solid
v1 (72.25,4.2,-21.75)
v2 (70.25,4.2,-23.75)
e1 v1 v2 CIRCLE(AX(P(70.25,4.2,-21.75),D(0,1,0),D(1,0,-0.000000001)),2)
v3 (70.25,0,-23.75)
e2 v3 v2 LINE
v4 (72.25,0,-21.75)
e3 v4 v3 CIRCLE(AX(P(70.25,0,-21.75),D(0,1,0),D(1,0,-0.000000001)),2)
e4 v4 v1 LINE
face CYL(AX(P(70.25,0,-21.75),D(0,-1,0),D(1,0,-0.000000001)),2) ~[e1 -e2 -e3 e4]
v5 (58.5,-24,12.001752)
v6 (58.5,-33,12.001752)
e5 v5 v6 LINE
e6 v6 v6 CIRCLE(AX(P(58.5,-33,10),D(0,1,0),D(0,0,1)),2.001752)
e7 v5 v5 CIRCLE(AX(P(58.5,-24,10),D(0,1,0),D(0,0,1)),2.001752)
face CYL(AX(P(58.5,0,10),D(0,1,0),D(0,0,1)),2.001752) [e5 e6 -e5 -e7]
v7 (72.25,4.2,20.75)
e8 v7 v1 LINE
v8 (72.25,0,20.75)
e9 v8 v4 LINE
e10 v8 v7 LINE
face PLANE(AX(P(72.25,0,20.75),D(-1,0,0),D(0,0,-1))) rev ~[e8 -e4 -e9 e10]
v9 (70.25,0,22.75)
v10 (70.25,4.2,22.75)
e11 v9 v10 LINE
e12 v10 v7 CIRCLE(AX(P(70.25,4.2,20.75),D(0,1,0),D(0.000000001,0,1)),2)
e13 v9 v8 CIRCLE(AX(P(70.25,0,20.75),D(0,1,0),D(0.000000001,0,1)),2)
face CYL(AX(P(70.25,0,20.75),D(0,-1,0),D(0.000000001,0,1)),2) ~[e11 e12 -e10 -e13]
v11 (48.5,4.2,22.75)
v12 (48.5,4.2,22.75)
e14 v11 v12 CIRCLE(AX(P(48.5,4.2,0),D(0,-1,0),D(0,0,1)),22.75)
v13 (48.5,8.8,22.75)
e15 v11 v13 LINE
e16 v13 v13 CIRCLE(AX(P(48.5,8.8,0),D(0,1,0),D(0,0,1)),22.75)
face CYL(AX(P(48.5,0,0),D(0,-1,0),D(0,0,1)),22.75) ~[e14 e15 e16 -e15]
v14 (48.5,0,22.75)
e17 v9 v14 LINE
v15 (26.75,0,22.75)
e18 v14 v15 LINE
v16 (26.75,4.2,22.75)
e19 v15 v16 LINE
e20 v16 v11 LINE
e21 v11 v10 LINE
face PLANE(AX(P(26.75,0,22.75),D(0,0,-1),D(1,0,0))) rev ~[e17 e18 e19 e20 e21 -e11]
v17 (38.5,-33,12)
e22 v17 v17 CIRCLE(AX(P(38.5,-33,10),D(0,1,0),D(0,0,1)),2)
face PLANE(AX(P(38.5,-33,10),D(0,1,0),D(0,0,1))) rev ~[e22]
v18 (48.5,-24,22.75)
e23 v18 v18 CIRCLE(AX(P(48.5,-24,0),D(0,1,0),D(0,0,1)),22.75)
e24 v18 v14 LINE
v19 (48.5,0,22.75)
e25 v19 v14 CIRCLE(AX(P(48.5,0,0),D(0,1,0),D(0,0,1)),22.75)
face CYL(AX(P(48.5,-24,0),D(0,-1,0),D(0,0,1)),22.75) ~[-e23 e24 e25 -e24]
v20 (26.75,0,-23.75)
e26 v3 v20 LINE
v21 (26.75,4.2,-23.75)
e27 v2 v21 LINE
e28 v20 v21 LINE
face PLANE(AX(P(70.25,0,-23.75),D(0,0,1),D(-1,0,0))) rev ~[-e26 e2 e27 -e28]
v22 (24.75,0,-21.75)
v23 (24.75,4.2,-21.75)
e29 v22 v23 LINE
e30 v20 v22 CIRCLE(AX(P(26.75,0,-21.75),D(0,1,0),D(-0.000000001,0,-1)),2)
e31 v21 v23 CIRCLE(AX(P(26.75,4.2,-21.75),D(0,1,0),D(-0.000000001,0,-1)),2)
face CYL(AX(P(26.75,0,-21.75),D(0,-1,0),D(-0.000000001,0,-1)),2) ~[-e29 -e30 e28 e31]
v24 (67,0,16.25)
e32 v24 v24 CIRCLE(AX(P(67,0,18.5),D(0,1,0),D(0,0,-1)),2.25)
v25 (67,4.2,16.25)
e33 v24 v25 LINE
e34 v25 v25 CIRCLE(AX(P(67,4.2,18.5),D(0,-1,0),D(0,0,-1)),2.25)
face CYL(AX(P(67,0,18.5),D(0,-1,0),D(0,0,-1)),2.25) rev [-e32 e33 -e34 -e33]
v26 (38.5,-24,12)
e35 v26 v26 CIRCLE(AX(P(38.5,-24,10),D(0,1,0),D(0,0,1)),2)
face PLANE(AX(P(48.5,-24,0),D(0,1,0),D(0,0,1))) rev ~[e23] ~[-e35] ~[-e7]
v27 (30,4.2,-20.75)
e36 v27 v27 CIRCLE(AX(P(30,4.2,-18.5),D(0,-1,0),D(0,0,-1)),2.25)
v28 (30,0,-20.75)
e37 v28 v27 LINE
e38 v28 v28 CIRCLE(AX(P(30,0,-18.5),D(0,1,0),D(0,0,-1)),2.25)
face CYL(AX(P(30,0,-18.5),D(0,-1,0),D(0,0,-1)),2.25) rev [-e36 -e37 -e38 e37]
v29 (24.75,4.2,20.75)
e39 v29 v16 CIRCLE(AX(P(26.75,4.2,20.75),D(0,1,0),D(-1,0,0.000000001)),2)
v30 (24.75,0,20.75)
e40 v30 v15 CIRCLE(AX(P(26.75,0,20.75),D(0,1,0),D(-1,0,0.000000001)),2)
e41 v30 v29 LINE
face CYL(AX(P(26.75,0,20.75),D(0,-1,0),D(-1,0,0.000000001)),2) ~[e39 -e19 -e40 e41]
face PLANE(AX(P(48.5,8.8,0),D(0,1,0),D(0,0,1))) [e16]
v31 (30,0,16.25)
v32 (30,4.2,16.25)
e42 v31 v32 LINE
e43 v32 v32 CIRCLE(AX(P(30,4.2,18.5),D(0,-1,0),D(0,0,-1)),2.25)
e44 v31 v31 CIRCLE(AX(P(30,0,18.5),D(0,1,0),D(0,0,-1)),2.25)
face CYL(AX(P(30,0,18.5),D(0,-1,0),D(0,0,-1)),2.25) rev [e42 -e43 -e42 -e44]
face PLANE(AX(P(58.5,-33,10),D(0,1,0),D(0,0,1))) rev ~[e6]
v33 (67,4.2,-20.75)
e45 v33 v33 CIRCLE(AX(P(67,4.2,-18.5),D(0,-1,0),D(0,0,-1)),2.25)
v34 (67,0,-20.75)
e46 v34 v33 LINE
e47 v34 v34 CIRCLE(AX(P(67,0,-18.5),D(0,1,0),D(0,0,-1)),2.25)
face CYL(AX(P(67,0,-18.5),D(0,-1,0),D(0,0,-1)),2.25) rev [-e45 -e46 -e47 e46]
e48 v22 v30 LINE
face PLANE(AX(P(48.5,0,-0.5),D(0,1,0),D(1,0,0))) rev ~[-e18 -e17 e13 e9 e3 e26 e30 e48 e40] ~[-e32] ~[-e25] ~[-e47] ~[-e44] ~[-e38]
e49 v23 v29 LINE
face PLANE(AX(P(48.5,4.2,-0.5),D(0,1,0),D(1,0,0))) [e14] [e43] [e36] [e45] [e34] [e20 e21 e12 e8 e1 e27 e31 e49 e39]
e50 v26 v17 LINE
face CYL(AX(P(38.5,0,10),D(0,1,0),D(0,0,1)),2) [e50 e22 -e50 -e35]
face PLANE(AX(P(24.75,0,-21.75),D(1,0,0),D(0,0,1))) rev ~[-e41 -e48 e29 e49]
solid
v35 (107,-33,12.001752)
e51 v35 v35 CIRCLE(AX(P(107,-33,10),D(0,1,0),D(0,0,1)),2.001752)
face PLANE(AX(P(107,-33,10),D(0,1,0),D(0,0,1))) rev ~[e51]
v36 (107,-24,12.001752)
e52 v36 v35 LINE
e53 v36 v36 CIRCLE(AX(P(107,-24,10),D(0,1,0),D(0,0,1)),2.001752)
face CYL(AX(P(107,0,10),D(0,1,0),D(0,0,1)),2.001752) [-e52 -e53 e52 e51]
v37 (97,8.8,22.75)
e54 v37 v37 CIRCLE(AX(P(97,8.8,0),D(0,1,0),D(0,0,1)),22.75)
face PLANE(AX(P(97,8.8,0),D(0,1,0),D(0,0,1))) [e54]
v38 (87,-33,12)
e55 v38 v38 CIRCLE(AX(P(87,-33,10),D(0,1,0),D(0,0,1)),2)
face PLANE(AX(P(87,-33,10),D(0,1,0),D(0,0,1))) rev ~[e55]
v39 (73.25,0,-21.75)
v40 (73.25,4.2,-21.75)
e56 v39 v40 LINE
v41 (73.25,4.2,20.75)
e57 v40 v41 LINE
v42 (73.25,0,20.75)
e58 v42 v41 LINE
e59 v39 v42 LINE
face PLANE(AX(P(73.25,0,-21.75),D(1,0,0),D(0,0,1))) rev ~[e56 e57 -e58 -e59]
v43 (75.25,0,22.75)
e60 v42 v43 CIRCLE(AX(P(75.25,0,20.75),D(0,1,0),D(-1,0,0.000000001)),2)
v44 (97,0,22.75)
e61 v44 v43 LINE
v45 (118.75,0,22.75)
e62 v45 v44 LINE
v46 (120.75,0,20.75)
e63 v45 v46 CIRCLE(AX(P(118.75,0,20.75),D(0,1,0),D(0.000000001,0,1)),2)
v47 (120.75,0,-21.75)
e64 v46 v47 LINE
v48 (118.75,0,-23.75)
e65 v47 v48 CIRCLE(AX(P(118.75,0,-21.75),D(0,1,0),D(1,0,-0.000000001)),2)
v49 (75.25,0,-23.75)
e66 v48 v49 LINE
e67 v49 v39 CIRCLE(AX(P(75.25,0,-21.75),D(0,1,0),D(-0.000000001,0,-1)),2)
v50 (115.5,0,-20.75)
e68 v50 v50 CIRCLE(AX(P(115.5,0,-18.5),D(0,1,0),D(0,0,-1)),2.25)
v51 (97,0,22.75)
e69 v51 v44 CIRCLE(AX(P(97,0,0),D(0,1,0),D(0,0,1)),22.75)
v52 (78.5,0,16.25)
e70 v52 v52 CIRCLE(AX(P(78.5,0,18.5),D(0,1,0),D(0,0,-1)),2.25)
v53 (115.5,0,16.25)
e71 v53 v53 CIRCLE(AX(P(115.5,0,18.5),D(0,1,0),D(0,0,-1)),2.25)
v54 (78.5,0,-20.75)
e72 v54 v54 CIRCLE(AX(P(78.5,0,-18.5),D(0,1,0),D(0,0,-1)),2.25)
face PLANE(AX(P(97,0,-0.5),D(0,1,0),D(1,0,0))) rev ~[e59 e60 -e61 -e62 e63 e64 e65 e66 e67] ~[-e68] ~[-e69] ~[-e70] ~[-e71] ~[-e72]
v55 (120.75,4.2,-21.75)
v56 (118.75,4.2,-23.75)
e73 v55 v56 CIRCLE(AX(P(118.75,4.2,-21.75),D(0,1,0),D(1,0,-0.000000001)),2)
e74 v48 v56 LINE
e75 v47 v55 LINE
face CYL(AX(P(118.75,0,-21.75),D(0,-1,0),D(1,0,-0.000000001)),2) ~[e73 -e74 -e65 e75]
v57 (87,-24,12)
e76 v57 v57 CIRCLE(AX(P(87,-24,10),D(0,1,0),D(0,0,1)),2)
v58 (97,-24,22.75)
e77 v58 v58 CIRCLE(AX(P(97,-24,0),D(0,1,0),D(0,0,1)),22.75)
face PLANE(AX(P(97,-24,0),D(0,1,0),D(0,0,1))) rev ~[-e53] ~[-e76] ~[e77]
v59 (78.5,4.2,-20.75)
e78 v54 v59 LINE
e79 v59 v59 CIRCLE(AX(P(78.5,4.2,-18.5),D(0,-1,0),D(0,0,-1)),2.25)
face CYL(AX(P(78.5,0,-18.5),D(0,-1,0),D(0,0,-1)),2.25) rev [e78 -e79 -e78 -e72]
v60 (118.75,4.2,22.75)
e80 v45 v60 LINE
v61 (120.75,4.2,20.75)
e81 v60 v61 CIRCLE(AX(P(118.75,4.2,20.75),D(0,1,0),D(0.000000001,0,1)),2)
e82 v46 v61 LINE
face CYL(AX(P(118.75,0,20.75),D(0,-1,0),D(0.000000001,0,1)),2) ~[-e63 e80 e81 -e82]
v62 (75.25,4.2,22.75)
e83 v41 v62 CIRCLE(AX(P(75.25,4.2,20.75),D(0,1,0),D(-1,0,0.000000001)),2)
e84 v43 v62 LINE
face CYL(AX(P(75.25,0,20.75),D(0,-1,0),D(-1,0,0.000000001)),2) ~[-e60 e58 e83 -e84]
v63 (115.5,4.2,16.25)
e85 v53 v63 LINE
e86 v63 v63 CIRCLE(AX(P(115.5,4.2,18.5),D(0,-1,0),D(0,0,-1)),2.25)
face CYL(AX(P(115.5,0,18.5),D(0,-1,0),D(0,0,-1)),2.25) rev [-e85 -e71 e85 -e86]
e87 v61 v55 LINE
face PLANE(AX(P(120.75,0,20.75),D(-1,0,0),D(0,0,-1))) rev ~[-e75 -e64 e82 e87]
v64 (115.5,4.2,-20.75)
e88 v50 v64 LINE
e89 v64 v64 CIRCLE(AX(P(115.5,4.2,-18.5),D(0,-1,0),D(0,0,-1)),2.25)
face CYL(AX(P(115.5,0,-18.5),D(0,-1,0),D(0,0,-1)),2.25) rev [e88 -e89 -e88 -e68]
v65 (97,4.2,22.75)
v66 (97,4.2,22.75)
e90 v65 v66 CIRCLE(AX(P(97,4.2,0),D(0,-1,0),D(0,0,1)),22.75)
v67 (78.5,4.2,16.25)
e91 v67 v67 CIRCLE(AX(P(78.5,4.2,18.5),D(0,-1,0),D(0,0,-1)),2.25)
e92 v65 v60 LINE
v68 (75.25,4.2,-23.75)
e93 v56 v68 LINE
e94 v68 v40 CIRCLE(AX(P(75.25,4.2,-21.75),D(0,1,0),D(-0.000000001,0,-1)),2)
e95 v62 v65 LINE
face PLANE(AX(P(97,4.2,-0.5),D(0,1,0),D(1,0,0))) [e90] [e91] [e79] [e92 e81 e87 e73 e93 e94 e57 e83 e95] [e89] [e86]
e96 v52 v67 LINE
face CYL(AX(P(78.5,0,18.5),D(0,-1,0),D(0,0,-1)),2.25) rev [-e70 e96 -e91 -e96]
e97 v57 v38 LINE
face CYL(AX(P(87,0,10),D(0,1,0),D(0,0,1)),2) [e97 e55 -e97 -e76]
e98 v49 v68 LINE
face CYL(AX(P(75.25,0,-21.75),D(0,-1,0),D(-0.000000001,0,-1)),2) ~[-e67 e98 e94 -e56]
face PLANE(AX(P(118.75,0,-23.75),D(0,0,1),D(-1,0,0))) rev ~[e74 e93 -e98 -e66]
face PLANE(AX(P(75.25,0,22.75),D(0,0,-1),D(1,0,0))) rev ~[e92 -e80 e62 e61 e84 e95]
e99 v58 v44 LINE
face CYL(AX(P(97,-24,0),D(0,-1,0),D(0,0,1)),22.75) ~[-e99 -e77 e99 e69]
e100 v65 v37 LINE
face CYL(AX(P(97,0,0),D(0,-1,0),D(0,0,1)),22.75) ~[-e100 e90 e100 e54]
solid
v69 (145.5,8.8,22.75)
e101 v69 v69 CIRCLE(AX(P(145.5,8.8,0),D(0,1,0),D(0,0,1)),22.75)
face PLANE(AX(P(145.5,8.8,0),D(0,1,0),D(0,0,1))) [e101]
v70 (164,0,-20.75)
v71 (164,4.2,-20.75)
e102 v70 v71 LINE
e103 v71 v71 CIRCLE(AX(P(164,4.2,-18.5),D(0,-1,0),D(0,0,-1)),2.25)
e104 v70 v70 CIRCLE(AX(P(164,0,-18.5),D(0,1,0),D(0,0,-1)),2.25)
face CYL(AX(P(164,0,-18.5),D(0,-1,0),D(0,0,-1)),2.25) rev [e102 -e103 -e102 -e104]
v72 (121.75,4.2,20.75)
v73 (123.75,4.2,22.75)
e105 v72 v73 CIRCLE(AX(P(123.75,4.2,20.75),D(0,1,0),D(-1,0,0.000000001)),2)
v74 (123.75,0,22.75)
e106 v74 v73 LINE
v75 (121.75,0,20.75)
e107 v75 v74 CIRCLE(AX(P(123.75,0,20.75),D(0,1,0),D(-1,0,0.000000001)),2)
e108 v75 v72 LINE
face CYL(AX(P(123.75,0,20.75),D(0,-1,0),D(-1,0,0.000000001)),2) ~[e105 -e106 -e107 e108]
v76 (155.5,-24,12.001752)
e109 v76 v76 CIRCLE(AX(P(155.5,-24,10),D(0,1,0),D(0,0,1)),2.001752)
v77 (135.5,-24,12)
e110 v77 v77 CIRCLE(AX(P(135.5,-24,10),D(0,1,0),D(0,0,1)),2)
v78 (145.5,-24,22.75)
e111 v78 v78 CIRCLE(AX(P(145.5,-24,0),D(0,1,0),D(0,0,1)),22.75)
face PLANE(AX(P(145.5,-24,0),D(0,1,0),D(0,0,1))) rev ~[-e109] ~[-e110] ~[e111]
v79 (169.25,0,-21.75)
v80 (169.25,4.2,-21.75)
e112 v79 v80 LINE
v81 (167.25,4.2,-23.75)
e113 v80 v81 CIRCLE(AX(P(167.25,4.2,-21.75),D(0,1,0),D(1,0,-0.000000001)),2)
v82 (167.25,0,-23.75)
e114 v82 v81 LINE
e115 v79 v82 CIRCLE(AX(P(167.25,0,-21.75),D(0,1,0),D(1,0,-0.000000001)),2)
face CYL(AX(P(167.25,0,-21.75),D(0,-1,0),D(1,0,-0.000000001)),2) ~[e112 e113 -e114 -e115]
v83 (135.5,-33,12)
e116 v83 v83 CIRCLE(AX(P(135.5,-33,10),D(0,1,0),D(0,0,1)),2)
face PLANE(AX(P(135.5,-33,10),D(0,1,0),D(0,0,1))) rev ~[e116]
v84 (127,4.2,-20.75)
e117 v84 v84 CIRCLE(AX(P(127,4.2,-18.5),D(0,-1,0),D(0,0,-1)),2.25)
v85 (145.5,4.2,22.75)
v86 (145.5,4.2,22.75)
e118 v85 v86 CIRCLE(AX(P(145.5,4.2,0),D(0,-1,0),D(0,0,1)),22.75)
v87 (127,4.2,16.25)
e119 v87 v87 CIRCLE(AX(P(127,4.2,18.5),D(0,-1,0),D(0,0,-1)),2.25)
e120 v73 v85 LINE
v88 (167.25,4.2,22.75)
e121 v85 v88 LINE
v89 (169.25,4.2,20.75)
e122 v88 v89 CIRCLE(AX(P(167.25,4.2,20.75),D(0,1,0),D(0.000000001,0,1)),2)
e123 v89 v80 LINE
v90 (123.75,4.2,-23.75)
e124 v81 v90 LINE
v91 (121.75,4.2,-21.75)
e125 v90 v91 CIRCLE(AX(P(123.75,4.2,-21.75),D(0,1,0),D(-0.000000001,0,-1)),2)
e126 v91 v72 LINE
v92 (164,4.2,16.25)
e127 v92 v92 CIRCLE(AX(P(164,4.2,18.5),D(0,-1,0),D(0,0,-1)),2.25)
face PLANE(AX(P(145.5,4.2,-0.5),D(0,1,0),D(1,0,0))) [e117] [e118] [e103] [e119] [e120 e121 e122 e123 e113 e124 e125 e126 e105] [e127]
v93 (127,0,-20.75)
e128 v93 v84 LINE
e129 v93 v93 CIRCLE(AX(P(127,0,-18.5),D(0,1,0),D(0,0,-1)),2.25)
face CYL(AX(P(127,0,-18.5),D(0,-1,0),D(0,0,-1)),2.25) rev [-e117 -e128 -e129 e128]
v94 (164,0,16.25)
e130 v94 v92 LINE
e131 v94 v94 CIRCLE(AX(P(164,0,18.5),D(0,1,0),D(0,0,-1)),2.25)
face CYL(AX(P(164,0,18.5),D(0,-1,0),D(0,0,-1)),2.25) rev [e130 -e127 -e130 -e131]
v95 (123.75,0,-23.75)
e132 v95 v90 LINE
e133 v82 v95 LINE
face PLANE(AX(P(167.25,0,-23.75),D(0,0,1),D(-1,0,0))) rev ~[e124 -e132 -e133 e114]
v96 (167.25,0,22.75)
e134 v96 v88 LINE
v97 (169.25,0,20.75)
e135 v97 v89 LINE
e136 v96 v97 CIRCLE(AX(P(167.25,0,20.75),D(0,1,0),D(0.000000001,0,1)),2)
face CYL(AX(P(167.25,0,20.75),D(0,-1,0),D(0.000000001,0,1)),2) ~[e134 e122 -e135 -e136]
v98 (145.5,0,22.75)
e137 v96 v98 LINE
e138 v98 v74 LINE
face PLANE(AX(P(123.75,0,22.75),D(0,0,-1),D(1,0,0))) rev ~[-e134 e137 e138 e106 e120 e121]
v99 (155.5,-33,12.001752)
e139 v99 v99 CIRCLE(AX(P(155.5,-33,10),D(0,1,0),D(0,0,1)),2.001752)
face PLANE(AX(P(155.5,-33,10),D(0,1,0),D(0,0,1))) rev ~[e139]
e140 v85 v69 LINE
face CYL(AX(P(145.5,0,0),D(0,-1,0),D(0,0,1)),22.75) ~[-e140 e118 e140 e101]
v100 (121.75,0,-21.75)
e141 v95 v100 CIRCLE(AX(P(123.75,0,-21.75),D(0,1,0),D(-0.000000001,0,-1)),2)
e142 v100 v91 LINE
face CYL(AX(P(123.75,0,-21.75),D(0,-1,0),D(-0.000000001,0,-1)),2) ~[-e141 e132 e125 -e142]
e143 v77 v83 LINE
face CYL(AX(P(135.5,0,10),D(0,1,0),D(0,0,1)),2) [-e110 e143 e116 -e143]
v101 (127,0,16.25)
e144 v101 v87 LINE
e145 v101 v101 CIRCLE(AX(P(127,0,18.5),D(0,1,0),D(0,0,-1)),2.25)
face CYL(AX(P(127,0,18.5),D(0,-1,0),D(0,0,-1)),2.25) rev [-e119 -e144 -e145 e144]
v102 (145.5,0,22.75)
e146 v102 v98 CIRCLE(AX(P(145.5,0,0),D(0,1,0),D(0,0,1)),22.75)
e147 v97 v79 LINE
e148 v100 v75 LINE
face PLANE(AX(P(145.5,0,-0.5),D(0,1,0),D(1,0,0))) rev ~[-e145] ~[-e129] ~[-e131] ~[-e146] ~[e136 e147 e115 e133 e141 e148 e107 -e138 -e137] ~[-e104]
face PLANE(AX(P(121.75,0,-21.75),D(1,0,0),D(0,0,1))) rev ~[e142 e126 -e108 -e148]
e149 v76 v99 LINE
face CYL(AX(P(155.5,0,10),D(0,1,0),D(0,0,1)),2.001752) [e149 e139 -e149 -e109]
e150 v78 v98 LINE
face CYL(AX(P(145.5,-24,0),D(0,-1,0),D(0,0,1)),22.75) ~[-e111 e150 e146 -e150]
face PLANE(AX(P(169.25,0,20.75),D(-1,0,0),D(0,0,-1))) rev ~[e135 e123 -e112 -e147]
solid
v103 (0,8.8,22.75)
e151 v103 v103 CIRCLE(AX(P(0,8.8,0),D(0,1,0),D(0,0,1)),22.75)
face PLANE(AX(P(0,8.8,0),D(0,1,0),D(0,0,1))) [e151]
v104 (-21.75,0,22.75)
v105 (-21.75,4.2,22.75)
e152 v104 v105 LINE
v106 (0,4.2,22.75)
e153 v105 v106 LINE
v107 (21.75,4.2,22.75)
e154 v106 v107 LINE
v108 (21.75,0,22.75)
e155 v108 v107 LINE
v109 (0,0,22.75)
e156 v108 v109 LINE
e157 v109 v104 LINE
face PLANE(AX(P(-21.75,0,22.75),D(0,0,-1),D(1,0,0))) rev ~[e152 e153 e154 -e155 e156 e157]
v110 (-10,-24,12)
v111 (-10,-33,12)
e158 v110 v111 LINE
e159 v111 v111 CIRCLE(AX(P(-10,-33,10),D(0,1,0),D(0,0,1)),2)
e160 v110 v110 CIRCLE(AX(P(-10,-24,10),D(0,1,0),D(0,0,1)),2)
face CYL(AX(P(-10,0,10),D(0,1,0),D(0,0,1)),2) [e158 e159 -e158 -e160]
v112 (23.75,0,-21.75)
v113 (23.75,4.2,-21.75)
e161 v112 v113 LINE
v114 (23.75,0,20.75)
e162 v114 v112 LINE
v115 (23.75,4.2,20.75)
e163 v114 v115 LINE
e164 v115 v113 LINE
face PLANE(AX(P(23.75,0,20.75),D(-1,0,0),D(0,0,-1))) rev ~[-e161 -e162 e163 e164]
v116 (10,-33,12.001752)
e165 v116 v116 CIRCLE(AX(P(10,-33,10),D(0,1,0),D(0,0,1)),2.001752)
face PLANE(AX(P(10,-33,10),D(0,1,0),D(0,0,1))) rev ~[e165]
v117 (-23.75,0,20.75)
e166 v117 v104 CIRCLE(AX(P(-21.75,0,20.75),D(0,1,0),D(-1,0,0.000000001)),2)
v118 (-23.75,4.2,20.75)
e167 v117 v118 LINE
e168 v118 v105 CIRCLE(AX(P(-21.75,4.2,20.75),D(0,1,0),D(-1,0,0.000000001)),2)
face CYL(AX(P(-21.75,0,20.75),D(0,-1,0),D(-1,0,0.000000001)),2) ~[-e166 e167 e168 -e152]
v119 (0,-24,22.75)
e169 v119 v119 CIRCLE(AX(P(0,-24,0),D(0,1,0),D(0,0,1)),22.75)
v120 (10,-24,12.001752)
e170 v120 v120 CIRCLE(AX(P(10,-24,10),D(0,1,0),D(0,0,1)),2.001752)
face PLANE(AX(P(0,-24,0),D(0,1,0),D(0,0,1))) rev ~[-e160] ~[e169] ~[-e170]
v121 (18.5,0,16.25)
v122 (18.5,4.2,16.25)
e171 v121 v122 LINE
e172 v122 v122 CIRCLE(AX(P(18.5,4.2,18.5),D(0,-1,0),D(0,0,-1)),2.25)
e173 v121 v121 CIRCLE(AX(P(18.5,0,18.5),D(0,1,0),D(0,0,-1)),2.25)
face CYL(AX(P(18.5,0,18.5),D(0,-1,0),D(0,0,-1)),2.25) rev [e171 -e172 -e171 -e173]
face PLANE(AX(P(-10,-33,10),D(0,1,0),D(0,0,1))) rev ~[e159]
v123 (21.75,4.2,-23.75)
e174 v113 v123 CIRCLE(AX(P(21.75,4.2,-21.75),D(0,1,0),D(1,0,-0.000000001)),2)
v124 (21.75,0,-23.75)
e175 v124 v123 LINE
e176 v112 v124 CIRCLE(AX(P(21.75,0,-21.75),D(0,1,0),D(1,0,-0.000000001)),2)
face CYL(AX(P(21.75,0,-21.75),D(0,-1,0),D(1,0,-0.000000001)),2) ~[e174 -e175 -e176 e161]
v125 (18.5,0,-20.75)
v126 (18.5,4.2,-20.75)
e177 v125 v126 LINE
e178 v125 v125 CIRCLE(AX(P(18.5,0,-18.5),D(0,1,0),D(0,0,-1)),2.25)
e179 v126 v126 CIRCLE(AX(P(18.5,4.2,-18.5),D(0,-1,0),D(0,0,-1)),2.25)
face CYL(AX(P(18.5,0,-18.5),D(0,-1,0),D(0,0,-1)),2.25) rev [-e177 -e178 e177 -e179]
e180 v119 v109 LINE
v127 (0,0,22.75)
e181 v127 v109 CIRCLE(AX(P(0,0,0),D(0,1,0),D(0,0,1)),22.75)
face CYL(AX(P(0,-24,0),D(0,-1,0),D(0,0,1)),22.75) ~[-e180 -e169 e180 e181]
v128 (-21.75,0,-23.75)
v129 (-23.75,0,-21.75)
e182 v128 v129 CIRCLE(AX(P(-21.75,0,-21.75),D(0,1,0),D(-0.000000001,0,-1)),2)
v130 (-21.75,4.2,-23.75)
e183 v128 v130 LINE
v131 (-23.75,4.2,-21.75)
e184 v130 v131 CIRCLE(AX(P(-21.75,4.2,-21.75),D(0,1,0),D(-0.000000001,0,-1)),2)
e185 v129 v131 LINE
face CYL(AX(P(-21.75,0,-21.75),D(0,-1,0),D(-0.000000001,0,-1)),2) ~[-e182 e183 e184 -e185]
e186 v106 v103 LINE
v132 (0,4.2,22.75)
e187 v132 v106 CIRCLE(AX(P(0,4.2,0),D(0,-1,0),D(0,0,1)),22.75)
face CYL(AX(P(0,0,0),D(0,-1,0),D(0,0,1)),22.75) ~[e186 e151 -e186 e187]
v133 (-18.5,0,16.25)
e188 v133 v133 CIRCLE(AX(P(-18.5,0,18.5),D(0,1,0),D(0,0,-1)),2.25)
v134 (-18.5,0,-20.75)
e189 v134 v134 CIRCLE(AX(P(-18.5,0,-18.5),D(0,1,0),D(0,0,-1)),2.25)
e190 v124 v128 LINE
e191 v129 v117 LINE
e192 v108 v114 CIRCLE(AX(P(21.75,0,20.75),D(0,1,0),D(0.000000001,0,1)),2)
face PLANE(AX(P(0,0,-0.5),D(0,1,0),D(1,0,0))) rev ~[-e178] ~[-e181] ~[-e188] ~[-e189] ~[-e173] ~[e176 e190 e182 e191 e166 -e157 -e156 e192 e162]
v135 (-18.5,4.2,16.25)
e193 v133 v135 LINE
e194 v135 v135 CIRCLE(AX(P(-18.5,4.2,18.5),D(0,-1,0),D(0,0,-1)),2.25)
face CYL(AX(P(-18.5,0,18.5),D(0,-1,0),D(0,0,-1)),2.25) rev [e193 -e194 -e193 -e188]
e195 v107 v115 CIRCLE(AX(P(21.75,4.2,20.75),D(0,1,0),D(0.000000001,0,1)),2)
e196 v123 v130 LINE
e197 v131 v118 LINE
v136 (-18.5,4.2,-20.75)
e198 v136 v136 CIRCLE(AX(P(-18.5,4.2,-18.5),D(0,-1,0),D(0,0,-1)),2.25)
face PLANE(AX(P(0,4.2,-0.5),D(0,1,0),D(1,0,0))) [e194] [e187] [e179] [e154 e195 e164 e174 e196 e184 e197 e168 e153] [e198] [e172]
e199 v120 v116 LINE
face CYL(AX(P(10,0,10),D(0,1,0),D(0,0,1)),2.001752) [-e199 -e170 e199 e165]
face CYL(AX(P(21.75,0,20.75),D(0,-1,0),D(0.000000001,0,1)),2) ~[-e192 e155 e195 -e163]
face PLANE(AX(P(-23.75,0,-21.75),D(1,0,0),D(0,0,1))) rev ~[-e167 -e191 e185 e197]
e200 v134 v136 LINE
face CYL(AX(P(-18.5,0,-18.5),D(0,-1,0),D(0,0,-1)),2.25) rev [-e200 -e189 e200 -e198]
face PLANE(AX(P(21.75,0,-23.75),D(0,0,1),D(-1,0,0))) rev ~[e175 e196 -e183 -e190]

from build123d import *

# Parameters (mm, degrees)
DIAL_FACE_R            = 22.75
BOSS_EXTRUDE11_DEPTH   = 8.8
BOSS_EXTRUDE11_2_DEPTH = 8.8
BOSS_EXTRUDE11_3_DEPTH = 8.8
BOSS_EXTRUDE11_4_DEPTH = 8.8
BOSS_EXTRUDE12_DEPTH   = 4.2
CUT_EXTRUDE9_REACH     = 173.135
DIAL_FACE_17_R         = 2.25
BOSS_EXTRUDE13_START   = -24
DIAL_FACE_19_R         = 22.75
BOSS_EXTRUDE13_DEPTH   = 24
DIAL_FACE_21_R         = 2
DIAL_FACE_21_R_2       = 2.001751506
BOSS_EXTRUDE14_DEPTH   = 33


with BuildPart() as part:
    # Dial Face → Boss-Extrude11 (new body)
    with BuildSketch(Plane(origin=(0, 0, 0), x_dir=(1, 0, 0), z_dir=(0, 1, 0))):
        Circle(DIAL_FACE_R)
    extrude(amount=BOSS_EXTRUDE11_DEPTH)



with BuildPart() as body_2:
    # Dial Face → Boss-Extrude11 2 (new body)
    with BuildSketch(Plane(origin=(0, 0, 0), x_dir=(1, 0, 0), z_dir=(0, 1, 0))):
        with Locations((48.5, 0)):
            Circle(DIAL_FACE_R)
    extrude(amount=BOSS_EXTRUDE11_2_DEPTH)


with BuildPart() as body_3:
    # Dial Face → Boss-Extrude11 3 (new body)
    with BuildSketch(Plane(origin=(0, 0, 0), x_dir=(1, 0, 0), z_dir=(0, 1, 0))):
        with Locations((97, 0)):
            Circle(DIAL_FACE_R)
    extrude(amount=BOSS_EXTRUDE11_3_DEPTH)


with BuildPart() as body_4:
    # Dial Face → Boss-Extrude11 4 (new body)
    with BuildSketch(Plane(origin=(0, 0, 0), x_dir=(1, 0, 0), z_dir=(0, 1, 0))):
        with Locations((145.5, 0)):
            Circle(DIAL_FACE_R)
    extrude(amount=BOSS_EXTRUDE11_4_DEPTH)


with BuildPart() as part_1:
    add(part.part)

    add(body_2.part)  # Boss-Extrude12 merges body 2

    add(body_3.part)  # Boss-Extrude12 merges body 3

    add(body_4.part)  # Boss-Extrude12 merges body 4
    # Dial Face<16> → Boss-Extrude12 (add)
    with BuildSketch(Plane(origin=(0, 0, 0), x_dir=(1, 0, 0), z_dir=(0, 1, 0))):
        with BuildLine():
            Line((21.75, 23.75), (-21.75, 23.75))
            ThreePointArc((-21.75, 23.75), (-23.164213562, 23.164213562), (-23.75, 21.75))
            Line((-23.75, 21.75), (-23.75, -20.75))
            ThreePointArc((-23.75, -20.75), (-23.164213562, -22.164213562), (-21.75, -22.75))
            Line((-21.75, -22.75), (21.75, -22.75))
            ThreePointArc((21.75, -22.75), (23.164213562, -22.164213562), (23.75, -20.75))
            Line((23.75, -20.75), (23.75, 21.75))
            ThreePointArc((23.75, 21.75), (23.164213562, 23.164213562), (21.75, 23.75))
        make_face()
        with BuildLine():
            Line((24.75, 21.75), (24.75, -20.75))
            ThreePointArc((24.75, -20.75), (25.335786438, -22.164213562), (26.75, -22.75))
            Line((26.75, -22.75), (70.25, -22.75))
            ThreePointArc((70.25, -22.75), (71.664213562, -22.164213562), (72.25, -20.75))
            Line((72.25, -20.75), (72.25, 21.75))
            ThreePointArc((72.25, 21.75), (71.664213562, 23.164213562), (70.25, 23.75))
            Line((70.25, 23.75), (26.75, 23.75))
            ThreePointArc((26.75, 23.75), (25.335786438, 23.164213562), (24.75, 21.75))
        make_face()
        with BuildLine():
            Line((73.25, 21.75), (73.25, -20.75))
            ThreePointArc((73.25, -20.75), (73.835786438, -22.164213562), (75.25, -22.75))
            Line((75.25, -22.75), (118.75, -22.75))
            ThreePointArc((118.75, -22.75), (120.164213562, -22.164213562), (120.75, -20.75))
            Line((120.75, -20.75), (120.75, 21.75))
            ThreePointArc((120.75, 21.75), (120.164213562, 23.164213562), (118.75, 23.75))
            Line((118.75, 23.75), (75.25, 23.75))
            ThreePointArc((75.25, 23.75), (73.835786438, 23.164213562), (73.25, 21.75))
        make_face()
        with BuildLine():
            Line((121.75, 21.75), (121.75, -20.75))
            ThreePointArc((121.75, -20.75), (122.335786438, -22.164213562), (123.75, -22.75))
            Line((123.75, -22.75), (167.25, -22.75))
            ThreePointArc((167.25, -22.75), (168.664213562, -22.164213562), (169.25, -20.75))
            Line((169.25, -20.75), (169.25, 21.75))
            ThreePointArc((169.25, 21.75), (168.664213562, 23.164213562), (167.25, 23.75))
            Line((167.25, 23.75), (123.75, 23.75))
            ThreePointArc((123.75, 23.75), (122.335786438, 23.164213562), (121.75, 21.75))
        make_face()
    extrude(amount=BOSS_EXTRUDE12_DEPTH)

    # Dial Face<17> → Cut-Extrude9 (cut, up to next)
    with BuildSketch(Plane(origin=(0, 0, 0), x_dir=(1, 0, 0), z_dir=(0, 1, 0)), mode=Mode.PRIVATE) as cut_extrude9_sk1:
        with Locations((18.5, 18.5)):
            Circle(DIAL_FACE_17_R)
    cut_extrude9_tool1 = extrude(cut_extrude9_sk1.sketch, amount=CUT_EXTRUDE9_REACH, mode=Mode.PRIVATE) & part_1.part
    # Dial Face<17> → Cut-Extrude9 (cut, up to next)
    with BuildSketch(Plane(origin=(0, 0, 0), x_dir=(1, 0, 0), z_dir=(0, 1, 0)), mode=Mode.PRIVATE) as cut_extrude9_sk2:
        with Locations((18.5, -18.5)):
            Circle(DIAL_FACE_17_R)
    cut_extrude9_tool2 = extrude(cut_extrude9_sk2.sketch, amount=CUT_EXTRUDE9_REACH, mode=Mode.PRIVATE) & part_1.part
    # Dial Face<17> → Cut-Extrude9 (cut, up to next)
    with BuildSketch(Plane(origin=(0, 0, 0), x_dir=(1, 0, 0), z_dir=(0, 1, 0)), mode=Mode.PRIVATE) as cut_extrude9_sk3:
        with Locations((-18.5, 18.5)):
            Circle(DIAL_FACE_17_R)
    cut_extrude9_tool3 = extrude(cut_extrude9_sk3.sketch, amount=CUT_EXTRUDE9_REACH, mode=Mode.PRIVATE) & part_1.part
    # Dial Face<17> → Cut-Extrude9 (cut, up to next)
    with BuildSketch(Plane(origin=(0, 0, 0), x_dir=(1, 0, 0), z_dir=(0, 1, 0)), mode=Mode.PRIVATE) as cut_extrude9_sk4:
        with Locations((-18.5, -18.5)):
            Circle(DIAL_FACE_17_R)
    cut_extrude9_tool4 = extrude(cut_extrude9_sk4.sketch, amount=CUT_EXTRUDE9_REACH, mode=Mode.PRIVATE) & part_1.part
    # Dial Face<17> → Cut-Extrude9 (cut, up to next)
    with BuildSketch(Plane(origin=(0, 0, 0), x_dir=(1, 0, 0), z_dir=(0, 1, 0)), mode=Mode.PRIVATE) as cut_extrude9_sk5:
        with Locations((67, -18.5)):
            Circle(DIAL_FACE_17_R)
    cut_extrude9_tool5 = extrude(cut_extrude9_sk5.sketch, amount=CUT_EXTRUDE9_REACH, mode=Mode.PRIVATE) & part_1.part
    # Dial Face<17> → Cut-Extrude9 (cut, up to next)
    with BuildSketch(Plane(origin=(0, 0, 0), x_dir=(1, 0, 0), z_dir=(0, 1, 0)), mode=Mode.PRIVATE) as cut_extrude9_sk6:
        with Locations((67, 18.5)):
            Circle(DIAL_FACE_17_R)
    cut_extrude9_tool6 = extrude(cut_extrude9_sk6.sketch, amount=CUT_EXTRUDE9_REACH, mode=Mode.PRIVATE) & part_1.part
    # Dial Face<17> → Cut-Extrude9 (cut, up to next)
    with BuildSketch(Plane(origin=(0, 0, 0), x_dir=(1, 0, 0), z_dir=(0, 1, 0)), mode=Mode.PRIVATE) as cut_extrude9_sk7:
        with Locations((30, 18.5)):
            Circle(DIAL_FACE_17_R)
    cut_extrude9_tool7 = extrude(cut_extrude9_sk7.sketch, amount=CUT_EXTRUDE9_REACH, mode=Mode.PRIVATE) & part_1.part
    # Dial Face<17> → Cut-Extrude9 (cut, up to next)
    with BuildSketch(Plane(origin=(0, 0, 0), x_dir=(1, 0, 0), z_dir=(0, 1, 0)), mode=Mode.PRIVATE) as cut_extrude9_sk8:
        with Locations((30, -18.5)):
            Circle(DIAL_FACE_17_R)
    cut_extrude9_tool8 = extrude(cut_extrude9_sk8.sketch, amount=CUT_EXTRUDE9_REACH, mode=Mode.PRIVATE) & part_1.part
    # Dial Face<17> → Cut-Extrude9 (cut, up to next)
    with BuildSketch(Plane(origin=(0, 0, 0), x_dir=(1, 0, 0), z_dir=(0, 1, 0)), mode=Mode.PRIVATE) as cut_extrude9_sk9:
        with Locations((115.5, -18.5)):
            Circle(DIAL_FACE_17_R)
    cut_extrude9_tool9 = extrude(cut_extrude9_sk9.sketch, amount=CUT_EXTRUDE9_REACH, mode=Mode.PRIVATE) & part_1.part
    # Dial Face<17> → Cut-Extrude9 (cut, up to next)
    with BuildSketch(Plane(origin=(0, 0, 0), x_dir=(1, 0, 0), z_dir=(0, 1, 0)), mode=Mode.PRIVATE) as cut_extrude9_sk10:
        with Locations((115.5, 18.5)):
            Circle(DIAL_FACE_17_R)
    cut_extrude9_tool10 = extrude(cut_extrude9_sk10.sketch, amount=CUT_EXTRUDE9_REACH, mode=Mode.PRIVATE) & part_1.part
    # Dial Face<17> → Cut-Extrude9 (cut, up to next)
    with BuildSketch(Plane(origin=(0, 0, 0), x_dir=(1, 0, 0), z_dir=(0, 1, 0)), mode=Mode.PRIVATE) as cut_extrude9_sk11:
        with Locations((78.5, 18.5)):
            Circle(DIAL_FACE_17_R)
    cut_extrude9_tool11 = extrude(cut_extrude9_sk11.sketch, amount=CUT_EXTRUDE9_REACH, mode=Mode.PRIVATE) & part_1.part
    # Dial Face<17> → Cut-Extrude9 (cut, up to next)
    with BuildSketch(Plane(origin=(0, 0, 0), x_dir=(1, 0, 0), z_dir=(0, 1, 0)), mode=Mode.PRIVATE) as cut_extrude9_sk12:
        with Locations((78.5, -18.5)):
            Circle(DIAL_FACE_17_R)
    cut_extrude9_tool12 = extrude(cut_extrude9_sk12.sketch, amount=CUT_EXTRUDE9_REACH, mode=Mode.PRIVATE) & part_1.part
    # Dial Face<17> → Cut-Extrude9 (cut, up to next)
    with BuildSketch(Plane(origin=(0, 0, 0), x_dir=(1, 0, 0), z_dir=(0, 1, 0)), mode=Mode.PRIVATE) as cut_extrude9_sk13:
        with Locations((164, -18.5)):
            Circle(DIAL_FACE_17_R)
    cut_extrude9_tool13 = extrude(cut_extrude9_sk13.sketch, amount=CUT_EXTRUDE9_REACH, mode=Mode.PRIVATE) & part_1.part
    # Dial Face<17> → Cut-Extrude9 (cut, up to next)
    with BuildSketch(Plane(origin=(0, 0, 0), x_dir=(1, 0, 0), z_dir=(0, 1, 0)), mode=Mode.PRIVATE) as cut_extrude9_sk14:
        with Locations((164, 18.5)):
            Circle(DIAL_FACE_17_R)
    cut_extrude9_tool14 = extrude(cut_extrude9_sk14.sketch, amount=CUT_EXTRUDE9_REACH, mode=Mode.PRIVATE) & part_1.part
    # Dial Face<17> → Cut-Extrude9 (cut, up to next)
    with BuildSketch(Plane(origin=(0, 0, 0), x_dir=(1, 0, 0), z_dir=(0, 1, 0)), mode=Mode.PRIVATE) as cut_extrude9_sk15:
        with Locations((127, 18.5)):
            Circle(DIAL_FACE_17_R)
    cut_extrude9_tool15 = extrude(cut_extrude9_sk15.sketch, amount=CUT_EXTRUDE9_REACH, mode=Mode.PRIVATE) & part_1.part
    # Dial Face<17> → Cut-Extrude9 (cut, up to next)
    with BuildSketch(Plane(origin=(0, 0, 0), x_dir=(1, 0, 0), z_dir=(0, 1, 0)), mode=Mode.PRIVATE) as cut_extrude9_sk16:
        with Locations((127, -18.5)):
            Circle(DIAL_FACE_17_R)
    cut_extrude9_tool16 = extrude(cut_extrude9_sk16.sketch, amount=CUT_EXTRUDE9_REACH, mode=Mode.PRIVATE) & part_1.part
    add(cut_extrude9_tool1.solids().sort_by_distance((18.5, 0, -18.5))[0], mode=Mode.SUBTRACT)
    add(cut_extrude9_tool2.solids().sort_by_distance((18.5, 0, 18.5))[0], mode=Mode.SUBTRACT)
    add(cut_extrude9_tool3.solids().sort_by_distance((-18.5, 0, -18.5))[0], mode=Mode.SUBTRACT)
    add(cut_extrude9_tool4.solids().sort_by_distance((-18.5, 0, 18.5))[0], mode=Mode.SUBTRACT)
    add(cut_extrude9_tool5.solids().sort_by_distance((67, 0, 18.5))[0], mode=Mode.SUBTRACT)
    add(cut_extrude9_tool6.solids().sort_by_distance((67, 0, -18.5))[0], mode=Mode.SUBTRACT)
    add(cut_extrude9_tool7.solids().sort_by_distance((30, 0, -18.5))[0], mode=Mode.SUBTRACT)
    add(cut_extrude9_tool8.solids().sort_by_distance((30, 0, 18.5))[0], mode=Mode.SUBTRACT)
    add(cut_extrude9_tool9.solids().sort_by_distance((115.5, 0, 18.5))[0], mode=Mode.SUBTRACT)
    add(cut_extrude9_tool10.solids().sort_by_distance((115.5, 0, -18.5))[0], mode=Mode.SUBTRACT)
    add(cut_extrude9_tool11.solids().sort_by_distance((78.5, 0, -18.5))[0], mode=Mode.SUBTRACT)
    add(cut_extrude9_tool12.solids().sort_by_distance((78.5, 0, 18.5))[0], mode=Mode.SUBTRACT)
    add(cut_extrude9_tool13.solids().sort_by_distance((164, 0, 18.5))[0], mode=Mode.SUBTRACT)
    add(cut_extrude9_tool14.solids().sort_by_distance((164, 0, -18.5))[0], mode=Mode.SUBTRACT)
    add(cut_extrude9_tool15.solids().sort_by_distance((127, 0, -18.5))[0], mode=Mode.SUBTRACT)
    add(cut_extrude9_tool16.solids().sort_by_distance((127, 0, 18.5))[0], mode=Mode.SUBTRACT)

    # Dial Face<19> → Boss-Extrude13 (add)
    with BuildSketch(Plane(origin=(0, 0, 0), x_dir=(1, 0, 0), z_dir=(0, 1, 0)).offset(BOSS_EXTRUDE13_START)):
        Circle(DIAL_FACE_19_R)
        with Locations((48.5, 0)):
            Circle(DIAL_FACE_19_R)
        with Locations((97, 0)):
            Circle(DIAL_FACE_19_R)
        with Locations((145.5, 0)):
            Circle(DIAL_FACE_19_R)
    extrude(amount=BOSS_EXTRUDE13_DEPTH)

    # Dial Face<21> → Boss-Extrude14 (add)
    with BuildSketch(Plane(origin=(0, 0, 0), x_dir=(1, 0, 0), z_dir=(0, 1, 0))):
        with Locations((-10, -10)):
            Circle(DIAL_FACE_21_R)
        with Locations((10, -10)):
            Circle(DIAL_FACE_21_R_2)
        with Locations((38.5, -10)):
            Circle(DIAL_FACE_21_R)
        with Locations((58.5, -10)):
            Circle(DIAL_FACE_21_R_2)
        with Locations((87, -10)):
            Circle(DIAL_FACE_21_R)
        with Locations((107, -10)):
            Circle(DIAL_FACE_21_R_2)
        with Locations((135.5, -10)):
            Circle(DIAL_FACE_21_R)
        with Locations((155.5, -10)):
            Circle(DIAL_FACE_21_R_2)
    extrude(amount=-BOSS_EXTRUDE14_DEPTH)


solid = part_1.part
